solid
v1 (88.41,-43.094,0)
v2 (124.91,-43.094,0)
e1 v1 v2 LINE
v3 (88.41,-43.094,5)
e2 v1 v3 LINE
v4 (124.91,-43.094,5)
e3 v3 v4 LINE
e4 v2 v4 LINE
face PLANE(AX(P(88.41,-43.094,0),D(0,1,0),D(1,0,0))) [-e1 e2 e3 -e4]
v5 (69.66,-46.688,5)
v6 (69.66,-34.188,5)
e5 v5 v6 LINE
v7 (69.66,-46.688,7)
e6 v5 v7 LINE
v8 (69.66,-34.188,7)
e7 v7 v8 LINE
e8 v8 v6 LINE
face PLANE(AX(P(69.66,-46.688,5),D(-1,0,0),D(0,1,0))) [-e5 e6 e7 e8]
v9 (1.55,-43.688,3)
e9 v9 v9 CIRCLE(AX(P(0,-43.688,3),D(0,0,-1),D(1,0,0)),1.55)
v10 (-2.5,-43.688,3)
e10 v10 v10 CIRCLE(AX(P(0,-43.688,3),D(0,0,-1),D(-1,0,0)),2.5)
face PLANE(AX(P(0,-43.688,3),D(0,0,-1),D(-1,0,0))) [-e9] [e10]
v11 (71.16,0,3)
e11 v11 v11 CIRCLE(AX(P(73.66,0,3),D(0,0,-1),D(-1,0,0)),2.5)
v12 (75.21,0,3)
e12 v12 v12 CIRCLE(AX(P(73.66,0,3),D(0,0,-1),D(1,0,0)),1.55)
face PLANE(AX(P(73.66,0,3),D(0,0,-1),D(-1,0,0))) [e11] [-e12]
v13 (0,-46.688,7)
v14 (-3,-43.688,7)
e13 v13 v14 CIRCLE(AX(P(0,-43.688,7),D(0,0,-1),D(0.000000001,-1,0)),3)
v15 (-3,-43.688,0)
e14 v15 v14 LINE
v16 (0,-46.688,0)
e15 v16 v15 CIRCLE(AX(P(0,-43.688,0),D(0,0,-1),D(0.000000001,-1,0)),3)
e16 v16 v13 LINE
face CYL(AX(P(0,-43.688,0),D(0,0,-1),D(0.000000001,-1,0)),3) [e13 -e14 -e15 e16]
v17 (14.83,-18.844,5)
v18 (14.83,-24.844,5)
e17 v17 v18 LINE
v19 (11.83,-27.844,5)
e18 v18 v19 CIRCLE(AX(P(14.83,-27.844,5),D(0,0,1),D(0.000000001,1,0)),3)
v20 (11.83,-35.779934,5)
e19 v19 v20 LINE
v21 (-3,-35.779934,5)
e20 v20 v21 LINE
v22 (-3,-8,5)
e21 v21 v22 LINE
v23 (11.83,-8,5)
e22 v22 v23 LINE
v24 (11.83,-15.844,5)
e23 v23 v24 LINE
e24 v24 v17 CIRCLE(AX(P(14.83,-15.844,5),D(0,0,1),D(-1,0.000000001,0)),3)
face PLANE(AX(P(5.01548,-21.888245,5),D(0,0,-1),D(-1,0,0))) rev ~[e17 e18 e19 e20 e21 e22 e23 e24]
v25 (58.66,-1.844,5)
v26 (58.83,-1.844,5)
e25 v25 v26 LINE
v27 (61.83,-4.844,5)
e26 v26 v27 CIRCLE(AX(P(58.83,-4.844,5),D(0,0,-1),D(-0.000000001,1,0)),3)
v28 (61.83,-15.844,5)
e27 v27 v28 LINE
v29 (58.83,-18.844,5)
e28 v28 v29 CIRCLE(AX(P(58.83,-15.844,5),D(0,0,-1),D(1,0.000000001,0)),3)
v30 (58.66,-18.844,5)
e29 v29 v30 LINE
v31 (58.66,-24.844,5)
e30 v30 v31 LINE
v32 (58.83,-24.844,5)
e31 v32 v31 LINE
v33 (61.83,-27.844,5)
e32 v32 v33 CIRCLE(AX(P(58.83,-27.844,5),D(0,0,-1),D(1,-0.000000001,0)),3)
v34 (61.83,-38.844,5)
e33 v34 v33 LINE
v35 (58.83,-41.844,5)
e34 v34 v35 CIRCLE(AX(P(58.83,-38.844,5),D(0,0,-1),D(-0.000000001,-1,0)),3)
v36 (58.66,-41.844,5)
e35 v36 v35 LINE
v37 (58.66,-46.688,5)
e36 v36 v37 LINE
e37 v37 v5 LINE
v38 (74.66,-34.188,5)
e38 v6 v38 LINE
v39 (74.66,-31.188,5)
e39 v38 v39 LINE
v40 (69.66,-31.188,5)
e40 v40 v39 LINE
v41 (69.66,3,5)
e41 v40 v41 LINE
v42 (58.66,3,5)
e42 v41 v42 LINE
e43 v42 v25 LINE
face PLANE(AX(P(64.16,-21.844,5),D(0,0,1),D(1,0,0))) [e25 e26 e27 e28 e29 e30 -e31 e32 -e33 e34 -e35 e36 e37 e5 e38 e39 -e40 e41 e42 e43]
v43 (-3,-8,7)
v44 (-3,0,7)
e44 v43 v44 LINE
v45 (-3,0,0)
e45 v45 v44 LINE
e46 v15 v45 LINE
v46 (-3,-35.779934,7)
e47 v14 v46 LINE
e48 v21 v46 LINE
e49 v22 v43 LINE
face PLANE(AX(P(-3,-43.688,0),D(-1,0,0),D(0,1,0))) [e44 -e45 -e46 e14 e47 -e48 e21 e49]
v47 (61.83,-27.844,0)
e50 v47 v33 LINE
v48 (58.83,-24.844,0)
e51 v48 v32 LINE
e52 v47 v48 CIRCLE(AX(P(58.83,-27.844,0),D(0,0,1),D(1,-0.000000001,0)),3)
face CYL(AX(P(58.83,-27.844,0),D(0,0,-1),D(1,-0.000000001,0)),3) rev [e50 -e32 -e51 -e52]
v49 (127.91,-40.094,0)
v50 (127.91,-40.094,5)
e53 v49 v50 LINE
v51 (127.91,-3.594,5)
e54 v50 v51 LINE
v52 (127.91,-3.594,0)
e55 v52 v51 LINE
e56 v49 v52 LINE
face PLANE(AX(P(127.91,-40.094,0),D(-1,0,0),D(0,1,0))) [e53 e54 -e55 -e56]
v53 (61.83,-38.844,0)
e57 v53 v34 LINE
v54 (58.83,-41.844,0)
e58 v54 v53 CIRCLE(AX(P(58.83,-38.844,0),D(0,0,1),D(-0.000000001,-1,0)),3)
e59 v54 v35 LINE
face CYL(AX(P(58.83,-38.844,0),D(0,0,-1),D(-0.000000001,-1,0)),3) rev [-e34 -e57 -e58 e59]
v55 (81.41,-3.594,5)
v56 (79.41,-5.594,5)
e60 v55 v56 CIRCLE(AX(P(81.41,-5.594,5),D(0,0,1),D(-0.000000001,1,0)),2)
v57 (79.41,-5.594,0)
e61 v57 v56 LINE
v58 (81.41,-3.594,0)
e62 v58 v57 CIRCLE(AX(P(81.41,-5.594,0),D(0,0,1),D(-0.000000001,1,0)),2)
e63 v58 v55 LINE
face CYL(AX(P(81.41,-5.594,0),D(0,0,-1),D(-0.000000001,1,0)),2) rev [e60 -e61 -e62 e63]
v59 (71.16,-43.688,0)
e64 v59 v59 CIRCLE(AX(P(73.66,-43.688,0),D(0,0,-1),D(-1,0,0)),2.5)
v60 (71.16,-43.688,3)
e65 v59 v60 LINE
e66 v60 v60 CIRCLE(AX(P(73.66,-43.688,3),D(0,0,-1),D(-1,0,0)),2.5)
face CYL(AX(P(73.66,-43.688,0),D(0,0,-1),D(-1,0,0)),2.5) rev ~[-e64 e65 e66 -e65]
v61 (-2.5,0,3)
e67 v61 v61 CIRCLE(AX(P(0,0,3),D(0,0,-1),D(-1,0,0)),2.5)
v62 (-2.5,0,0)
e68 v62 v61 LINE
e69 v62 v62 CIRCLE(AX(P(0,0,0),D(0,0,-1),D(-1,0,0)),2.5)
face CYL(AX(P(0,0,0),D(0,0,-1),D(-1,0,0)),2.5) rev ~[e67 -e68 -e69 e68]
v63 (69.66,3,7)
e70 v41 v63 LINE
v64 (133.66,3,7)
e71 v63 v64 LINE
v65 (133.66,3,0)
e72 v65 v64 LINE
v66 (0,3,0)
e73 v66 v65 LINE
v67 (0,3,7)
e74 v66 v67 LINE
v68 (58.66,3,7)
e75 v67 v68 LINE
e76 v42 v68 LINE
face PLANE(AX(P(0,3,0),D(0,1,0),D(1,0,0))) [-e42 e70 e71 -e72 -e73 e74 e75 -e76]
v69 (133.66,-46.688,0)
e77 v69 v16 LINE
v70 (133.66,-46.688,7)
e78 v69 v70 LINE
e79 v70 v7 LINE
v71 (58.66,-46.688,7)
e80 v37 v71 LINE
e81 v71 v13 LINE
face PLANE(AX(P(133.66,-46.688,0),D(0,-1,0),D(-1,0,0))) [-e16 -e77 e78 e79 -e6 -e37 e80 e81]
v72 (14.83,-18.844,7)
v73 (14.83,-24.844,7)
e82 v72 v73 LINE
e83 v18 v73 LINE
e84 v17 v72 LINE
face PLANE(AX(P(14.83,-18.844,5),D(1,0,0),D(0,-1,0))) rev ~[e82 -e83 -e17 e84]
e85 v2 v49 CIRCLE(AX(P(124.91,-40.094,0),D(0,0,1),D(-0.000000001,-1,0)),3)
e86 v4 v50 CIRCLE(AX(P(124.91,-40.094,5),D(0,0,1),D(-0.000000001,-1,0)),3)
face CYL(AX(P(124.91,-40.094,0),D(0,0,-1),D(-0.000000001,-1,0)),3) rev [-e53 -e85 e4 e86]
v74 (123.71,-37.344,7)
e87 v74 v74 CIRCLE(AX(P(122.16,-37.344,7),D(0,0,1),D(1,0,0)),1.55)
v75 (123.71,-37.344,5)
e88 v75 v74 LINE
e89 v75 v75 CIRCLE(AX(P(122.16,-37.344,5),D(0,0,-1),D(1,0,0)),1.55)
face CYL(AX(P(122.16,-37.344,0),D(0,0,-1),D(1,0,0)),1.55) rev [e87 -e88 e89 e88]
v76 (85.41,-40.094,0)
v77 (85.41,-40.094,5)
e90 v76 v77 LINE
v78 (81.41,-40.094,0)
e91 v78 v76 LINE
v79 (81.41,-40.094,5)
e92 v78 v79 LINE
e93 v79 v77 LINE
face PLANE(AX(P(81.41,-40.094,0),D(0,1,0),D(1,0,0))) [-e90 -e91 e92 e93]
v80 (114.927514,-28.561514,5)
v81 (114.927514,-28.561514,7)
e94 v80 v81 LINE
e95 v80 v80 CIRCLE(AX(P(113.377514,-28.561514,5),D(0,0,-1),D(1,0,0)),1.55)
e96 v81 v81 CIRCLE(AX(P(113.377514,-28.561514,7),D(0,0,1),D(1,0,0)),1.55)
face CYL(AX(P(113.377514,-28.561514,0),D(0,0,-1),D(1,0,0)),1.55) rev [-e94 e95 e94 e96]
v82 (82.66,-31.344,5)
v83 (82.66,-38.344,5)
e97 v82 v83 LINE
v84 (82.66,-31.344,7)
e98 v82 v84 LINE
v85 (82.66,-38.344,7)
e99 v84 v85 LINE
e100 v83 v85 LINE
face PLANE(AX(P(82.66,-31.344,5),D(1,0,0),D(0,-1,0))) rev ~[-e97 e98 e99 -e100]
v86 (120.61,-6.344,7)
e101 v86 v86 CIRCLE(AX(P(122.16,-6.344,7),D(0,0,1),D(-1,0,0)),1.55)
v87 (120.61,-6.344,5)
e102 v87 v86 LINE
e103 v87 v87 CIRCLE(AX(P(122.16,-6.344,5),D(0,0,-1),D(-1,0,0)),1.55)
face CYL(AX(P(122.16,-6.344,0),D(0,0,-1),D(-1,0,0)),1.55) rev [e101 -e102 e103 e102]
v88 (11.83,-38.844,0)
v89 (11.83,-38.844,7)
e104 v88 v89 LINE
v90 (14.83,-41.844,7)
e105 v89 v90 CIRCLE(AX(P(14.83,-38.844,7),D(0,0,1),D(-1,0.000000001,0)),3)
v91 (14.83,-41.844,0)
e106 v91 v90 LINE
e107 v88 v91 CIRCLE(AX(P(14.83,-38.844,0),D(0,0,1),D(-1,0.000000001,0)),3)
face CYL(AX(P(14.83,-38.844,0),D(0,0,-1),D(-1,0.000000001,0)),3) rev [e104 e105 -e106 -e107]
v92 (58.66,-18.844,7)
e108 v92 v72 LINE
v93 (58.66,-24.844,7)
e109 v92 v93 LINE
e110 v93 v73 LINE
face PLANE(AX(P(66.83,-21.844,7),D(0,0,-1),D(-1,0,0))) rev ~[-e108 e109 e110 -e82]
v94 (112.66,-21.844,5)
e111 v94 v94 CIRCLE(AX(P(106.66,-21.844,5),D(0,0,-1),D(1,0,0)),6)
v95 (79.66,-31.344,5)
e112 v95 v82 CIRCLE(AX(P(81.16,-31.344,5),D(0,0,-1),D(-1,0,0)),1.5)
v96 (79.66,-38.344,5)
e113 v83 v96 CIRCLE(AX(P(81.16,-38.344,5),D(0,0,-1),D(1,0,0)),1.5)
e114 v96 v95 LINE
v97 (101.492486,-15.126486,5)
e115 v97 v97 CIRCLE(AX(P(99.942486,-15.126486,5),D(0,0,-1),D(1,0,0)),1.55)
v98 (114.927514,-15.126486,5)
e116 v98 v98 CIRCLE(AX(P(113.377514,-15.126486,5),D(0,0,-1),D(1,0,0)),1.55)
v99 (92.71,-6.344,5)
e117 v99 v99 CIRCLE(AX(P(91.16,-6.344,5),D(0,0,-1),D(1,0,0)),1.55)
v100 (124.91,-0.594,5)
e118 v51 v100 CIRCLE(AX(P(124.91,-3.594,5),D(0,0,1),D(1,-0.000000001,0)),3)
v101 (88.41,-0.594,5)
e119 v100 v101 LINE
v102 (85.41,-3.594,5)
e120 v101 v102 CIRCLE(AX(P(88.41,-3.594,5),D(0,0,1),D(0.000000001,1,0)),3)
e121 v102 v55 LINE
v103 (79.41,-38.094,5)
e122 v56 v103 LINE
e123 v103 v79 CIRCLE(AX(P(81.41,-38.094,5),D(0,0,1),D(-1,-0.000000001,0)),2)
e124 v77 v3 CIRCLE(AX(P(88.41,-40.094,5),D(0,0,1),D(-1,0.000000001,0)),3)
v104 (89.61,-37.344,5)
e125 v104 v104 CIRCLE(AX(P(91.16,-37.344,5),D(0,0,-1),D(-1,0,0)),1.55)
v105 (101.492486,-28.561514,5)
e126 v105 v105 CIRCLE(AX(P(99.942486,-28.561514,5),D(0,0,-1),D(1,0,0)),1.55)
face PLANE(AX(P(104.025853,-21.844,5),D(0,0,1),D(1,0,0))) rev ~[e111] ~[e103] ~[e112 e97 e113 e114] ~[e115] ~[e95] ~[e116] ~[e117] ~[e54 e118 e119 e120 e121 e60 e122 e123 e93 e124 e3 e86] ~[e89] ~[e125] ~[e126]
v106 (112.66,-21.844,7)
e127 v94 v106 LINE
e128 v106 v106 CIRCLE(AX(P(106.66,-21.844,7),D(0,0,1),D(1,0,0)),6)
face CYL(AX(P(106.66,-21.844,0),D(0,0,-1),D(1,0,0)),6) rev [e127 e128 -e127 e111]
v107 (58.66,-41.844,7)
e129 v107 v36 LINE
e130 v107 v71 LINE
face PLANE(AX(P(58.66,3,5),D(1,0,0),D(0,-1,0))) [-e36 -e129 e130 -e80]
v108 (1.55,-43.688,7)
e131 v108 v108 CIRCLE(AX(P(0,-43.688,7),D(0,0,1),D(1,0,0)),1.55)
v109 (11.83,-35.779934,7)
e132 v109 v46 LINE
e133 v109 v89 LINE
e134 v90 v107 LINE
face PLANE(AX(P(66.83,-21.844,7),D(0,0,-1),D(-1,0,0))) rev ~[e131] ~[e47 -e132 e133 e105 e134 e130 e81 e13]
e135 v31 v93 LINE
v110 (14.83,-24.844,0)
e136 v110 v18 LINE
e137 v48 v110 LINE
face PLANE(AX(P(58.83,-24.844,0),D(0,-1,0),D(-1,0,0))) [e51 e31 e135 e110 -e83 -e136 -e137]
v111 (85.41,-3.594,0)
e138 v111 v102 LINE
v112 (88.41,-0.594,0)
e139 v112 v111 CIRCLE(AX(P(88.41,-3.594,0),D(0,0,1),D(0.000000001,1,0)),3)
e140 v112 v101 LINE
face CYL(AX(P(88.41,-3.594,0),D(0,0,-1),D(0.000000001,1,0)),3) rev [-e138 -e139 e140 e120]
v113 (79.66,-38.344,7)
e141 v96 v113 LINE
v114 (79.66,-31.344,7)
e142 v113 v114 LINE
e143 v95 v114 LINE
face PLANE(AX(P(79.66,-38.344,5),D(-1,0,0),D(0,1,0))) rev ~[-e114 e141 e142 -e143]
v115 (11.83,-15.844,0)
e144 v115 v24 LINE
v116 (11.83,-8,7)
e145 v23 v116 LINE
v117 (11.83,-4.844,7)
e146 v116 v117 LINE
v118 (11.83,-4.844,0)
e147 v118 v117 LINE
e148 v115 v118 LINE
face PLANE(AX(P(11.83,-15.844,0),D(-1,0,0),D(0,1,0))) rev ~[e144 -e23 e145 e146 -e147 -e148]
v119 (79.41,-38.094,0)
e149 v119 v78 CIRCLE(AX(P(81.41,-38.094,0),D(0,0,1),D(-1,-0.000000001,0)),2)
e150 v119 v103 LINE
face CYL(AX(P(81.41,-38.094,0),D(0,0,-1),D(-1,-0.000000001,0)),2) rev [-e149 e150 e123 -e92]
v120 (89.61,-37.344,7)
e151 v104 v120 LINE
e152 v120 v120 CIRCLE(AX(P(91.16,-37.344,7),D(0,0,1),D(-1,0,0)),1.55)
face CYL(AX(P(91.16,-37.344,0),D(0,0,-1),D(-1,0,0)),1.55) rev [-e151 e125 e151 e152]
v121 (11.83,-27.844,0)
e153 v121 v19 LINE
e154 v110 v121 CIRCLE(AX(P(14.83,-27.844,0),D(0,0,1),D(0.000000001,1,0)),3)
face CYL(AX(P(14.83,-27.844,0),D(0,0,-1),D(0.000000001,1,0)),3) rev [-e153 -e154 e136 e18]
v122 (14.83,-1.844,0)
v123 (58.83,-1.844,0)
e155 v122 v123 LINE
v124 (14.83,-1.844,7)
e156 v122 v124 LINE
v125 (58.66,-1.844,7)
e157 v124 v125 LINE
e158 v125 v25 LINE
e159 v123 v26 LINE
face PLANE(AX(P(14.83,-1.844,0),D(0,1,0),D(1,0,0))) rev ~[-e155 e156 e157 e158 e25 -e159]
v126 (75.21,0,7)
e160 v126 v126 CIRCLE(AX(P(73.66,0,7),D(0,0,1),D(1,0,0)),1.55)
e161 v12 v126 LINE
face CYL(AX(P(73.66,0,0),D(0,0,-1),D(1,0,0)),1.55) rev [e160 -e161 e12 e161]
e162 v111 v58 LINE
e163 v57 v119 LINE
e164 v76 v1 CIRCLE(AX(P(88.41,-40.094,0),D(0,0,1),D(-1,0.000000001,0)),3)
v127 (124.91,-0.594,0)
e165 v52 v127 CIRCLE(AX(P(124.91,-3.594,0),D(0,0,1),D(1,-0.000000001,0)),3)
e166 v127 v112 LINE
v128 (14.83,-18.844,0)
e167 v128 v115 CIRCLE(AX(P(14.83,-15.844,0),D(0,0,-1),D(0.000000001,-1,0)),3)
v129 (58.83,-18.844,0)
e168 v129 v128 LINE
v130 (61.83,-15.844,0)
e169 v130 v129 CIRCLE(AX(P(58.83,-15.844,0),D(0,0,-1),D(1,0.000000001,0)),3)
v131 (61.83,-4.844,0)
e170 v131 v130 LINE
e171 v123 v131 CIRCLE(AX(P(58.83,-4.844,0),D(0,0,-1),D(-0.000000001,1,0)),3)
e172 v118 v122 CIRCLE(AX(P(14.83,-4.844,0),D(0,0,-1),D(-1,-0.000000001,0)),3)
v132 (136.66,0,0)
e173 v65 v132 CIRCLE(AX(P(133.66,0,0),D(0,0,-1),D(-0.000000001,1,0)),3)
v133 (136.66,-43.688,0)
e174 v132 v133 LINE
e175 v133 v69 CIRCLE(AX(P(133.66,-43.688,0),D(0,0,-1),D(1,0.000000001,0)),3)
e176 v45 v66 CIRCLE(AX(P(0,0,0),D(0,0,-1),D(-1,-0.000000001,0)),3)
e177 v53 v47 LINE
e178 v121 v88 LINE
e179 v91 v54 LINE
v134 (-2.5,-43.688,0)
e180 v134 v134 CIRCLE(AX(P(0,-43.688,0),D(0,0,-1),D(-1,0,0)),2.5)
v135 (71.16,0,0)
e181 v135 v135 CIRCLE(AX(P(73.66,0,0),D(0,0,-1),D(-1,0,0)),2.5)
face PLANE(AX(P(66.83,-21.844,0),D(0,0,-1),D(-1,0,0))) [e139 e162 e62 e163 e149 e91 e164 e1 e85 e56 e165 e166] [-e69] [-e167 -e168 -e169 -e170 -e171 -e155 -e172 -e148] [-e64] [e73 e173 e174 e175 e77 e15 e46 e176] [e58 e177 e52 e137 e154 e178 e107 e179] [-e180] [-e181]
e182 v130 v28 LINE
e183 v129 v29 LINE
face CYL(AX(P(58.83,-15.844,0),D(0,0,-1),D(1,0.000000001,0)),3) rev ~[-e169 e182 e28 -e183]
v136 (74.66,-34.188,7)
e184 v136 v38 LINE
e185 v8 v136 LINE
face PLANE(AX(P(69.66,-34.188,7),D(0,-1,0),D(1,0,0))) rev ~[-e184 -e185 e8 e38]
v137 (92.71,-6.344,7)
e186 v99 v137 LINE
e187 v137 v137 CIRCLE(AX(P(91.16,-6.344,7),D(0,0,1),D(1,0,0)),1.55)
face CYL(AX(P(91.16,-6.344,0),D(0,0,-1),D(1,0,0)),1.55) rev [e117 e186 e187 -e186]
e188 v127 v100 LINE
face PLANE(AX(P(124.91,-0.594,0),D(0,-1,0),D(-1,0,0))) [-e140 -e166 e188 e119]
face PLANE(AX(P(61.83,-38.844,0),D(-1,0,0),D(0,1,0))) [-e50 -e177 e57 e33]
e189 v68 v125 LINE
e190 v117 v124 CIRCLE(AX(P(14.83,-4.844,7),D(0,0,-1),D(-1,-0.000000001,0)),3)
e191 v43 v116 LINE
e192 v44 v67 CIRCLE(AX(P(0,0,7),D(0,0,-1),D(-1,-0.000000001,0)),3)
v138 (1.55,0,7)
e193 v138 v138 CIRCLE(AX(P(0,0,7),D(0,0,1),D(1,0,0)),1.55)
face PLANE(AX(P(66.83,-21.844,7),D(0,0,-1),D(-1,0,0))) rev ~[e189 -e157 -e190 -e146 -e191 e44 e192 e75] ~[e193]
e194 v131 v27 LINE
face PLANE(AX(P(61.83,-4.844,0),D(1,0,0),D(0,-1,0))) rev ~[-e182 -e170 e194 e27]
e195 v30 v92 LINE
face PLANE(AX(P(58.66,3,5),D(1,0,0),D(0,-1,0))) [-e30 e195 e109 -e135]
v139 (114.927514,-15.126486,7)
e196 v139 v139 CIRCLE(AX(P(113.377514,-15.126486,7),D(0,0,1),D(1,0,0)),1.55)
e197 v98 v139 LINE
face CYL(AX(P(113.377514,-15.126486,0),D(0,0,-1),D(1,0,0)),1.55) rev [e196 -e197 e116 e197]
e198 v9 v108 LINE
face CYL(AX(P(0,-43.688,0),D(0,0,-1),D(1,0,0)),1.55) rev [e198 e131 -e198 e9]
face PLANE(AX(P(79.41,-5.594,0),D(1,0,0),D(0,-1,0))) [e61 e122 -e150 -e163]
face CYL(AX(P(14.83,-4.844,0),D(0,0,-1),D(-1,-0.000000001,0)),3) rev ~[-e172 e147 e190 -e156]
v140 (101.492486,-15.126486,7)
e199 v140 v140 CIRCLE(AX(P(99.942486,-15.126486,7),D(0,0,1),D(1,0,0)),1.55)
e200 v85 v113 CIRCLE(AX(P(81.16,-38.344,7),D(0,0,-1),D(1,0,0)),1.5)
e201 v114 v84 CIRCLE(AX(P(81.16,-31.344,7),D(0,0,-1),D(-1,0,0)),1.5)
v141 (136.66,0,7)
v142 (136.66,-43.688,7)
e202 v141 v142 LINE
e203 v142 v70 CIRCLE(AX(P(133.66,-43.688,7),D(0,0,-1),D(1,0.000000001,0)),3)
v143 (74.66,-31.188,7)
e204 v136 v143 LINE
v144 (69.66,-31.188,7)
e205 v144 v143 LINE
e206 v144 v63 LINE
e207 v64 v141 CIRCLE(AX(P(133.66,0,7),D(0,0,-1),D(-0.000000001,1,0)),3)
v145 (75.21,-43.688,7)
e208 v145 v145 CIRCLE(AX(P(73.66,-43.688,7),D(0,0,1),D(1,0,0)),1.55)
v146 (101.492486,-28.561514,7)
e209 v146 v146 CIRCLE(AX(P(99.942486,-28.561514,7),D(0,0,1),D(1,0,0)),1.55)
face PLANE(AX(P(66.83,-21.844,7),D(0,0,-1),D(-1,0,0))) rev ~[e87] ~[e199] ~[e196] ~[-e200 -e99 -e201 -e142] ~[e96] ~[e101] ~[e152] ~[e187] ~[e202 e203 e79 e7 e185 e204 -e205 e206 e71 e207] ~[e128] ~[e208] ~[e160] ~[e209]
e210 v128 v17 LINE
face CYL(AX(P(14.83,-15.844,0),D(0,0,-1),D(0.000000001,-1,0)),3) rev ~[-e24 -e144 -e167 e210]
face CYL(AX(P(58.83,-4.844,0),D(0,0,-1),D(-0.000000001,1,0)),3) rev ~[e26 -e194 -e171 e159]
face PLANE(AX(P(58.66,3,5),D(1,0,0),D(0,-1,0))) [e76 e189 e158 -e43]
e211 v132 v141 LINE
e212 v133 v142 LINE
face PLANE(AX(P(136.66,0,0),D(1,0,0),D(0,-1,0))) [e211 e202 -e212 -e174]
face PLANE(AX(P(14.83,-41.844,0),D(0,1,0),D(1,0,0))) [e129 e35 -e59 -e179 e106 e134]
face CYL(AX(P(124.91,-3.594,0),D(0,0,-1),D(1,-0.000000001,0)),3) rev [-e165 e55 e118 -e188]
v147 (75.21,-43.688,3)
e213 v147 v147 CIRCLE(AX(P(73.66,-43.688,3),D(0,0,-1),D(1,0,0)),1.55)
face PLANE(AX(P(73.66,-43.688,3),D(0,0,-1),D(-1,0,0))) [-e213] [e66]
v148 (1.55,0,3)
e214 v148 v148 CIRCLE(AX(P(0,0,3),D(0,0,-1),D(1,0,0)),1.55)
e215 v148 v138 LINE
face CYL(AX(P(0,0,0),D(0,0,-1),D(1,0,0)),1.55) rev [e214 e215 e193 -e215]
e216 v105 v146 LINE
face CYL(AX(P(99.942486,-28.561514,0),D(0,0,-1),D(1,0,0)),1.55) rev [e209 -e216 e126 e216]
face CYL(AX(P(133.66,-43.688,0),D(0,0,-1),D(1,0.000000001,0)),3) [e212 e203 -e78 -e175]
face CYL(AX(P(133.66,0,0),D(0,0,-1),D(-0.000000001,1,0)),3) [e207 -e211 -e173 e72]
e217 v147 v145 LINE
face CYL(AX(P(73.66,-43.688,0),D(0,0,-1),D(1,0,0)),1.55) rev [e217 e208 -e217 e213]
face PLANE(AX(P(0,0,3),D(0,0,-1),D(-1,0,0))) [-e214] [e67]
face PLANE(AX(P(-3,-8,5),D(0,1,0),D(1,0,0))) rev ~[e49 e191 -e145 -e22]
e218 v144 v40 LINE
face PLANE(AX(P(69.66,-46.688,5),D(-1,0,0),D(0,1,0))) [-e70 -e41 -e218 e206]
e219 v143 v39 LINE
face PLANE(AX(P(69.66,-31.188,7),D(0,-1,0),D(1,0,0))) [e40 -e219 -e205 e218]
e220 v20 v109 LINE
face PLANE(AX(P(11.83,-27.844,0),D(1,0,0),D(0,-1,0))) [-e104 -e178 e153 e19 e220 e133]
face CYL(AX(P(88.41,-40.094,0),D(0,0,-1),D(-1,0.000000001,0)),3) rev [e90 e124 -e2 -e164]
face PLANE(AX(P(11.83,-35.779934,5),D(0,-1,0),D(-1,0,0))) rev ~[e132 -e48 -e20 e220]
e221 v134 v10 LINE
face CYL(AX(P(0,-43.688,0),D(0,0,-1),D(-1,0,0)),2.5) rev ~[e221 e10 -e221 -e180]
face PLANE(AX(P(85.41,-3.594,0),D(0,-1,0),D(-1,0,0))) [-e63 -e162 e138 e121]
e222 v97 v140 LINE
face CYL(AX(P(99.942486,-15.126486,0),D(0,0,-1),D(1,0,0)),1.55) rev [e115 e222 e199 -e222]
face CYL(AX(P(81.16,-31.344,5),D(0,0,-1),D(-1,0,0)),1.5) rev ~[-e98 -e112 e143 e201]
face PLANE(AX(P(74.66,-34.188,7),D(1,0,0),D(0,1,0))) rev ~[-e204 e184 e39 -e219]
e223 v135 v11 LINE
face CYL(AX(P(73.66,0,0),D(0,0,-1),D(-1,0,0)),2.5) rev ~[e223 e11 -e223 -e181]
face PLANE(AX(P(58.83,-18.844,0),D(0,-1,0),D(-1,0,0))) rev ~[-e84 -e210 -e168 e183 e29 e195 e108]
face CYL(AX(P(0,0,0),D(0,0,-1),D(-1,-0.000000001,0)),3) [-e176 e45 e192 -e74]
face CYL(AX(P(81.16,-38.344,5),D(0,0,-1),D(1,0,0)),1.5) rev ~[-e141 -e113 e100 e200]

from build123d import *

# Parameters (mm, degrees)
SKETCH_1_R          = 1.55
SKETCH_1_R_2        = 6
EXTRUDE_1_DEPTH     = 7
CUT_EXTRUDE_START   = -2
CUT_EXTRUDE_3_DEPTH = 2
SKETCH_4_R          = 2.5
CUT_EXTRUDE_4_DEPTH = 3
CUT_EXTRUDE_5_DEPTH = 5
CUT_EXTRUDE_6_DEPTH = 2
SKETCH_7_W          = 5
SKETCH_7_H          = 3
CUT_EXTRUDE_7_DEPTH = 2


with BuildPart() as part:
    # 草图1 → 凸台-拉伸1 (new body)
    with BuildSketch(Plane.XY):
        with BuildLine():
            Line((0, 3), (73.66, 3))
            Line((73.66, 3), (133.66, 3))
            ThreePointArc((133.66, 3), (135.781320344, 2.121320344), (136.66, 0))
            Line((136.66, 0), (136.66, -21.844))
            Line((136.66, -21.844), (136.66, -43.688))
            ThreePointArc((136.66, -43.688), (135.781320344, -45.809320344), (133.66, -46.688))
            Line((133.66, -46.688), (73.66, -46.688))
            Line((73.66, -46.688), (0, -46.688))
            ThreePointArc((0, -46.688), (-2.121320344, -45.809320344), (-3, -43.688))
            Line((-3, -43.688), (-3, 0))
            ThreePointArc((-3, 0), (-2.121320344, 2.121320344), (0, 3))
        make_face()
        Circle(SKETCH_1_R, mode=Mode.SUBTRACT)
        with Locations((73.66, 0)):
            Circle(SKETCH_1_R, mode=Mode.SUBTRACT)
        with Locations((0, -43.688)):
            Circle(SKETCH_1_R, mode=Mode.SUBTRACT)
        with Locations((73.66, -43.688)):
            Circle(SKETCH_1_R, mode=Mode.SUBTRACT)
        with Locations((106.66, -21.844)):
            Circle(SKETCH_1_R_2, mode=Mode.SUBTRACT)
        with Locations((91.16, -6.344)):
            Circle(SKETCH_1_R, mode=Mode.SUBTRACT)
        with Locations(Location((91.16, -37.344, 0), (0, 0, 180))):
            Circle(SKETCH_1_R, mode=Mode.SUBTRACT)
        with Locations((122.16, -37.344)):
            Circle(SKETCH_1_R, mode=Mode.SUBTRACT)
        with Locations(Location((122.16, -6.344, 0), (0, 0, 180))):
            Circle(SKETCH_1_R, mode=Mode.SUBTRACT)
        with Locations((99.942485579, -15.126485579)):
            Circle(SKETCH_1_R, mode=Mode.SUBTRACT)
        with Locations((113.377514421, -15.126485579)):
            Circle(SKETCH_1_R, mode=Mode.SUBTRACT)
        with Locations((113.377514421, -28.561514421)):
            Circle(SKETCH_1_R, mode=Mode.SUBTRACT)
        with Locations((99.942485579, -28.561514421)):
            Circle(SKETCH_1_R, mode=Mode.SUBTRACT)
        with BuildLine():
            Line((11.83, -15.844), (11.83, -4.844))
            ThreePointArc((11.83, -4.844), (12.708679656, -2.722679656), (14.83, -1.844))
            Line((14.83, -1.844), (36.83, -1.844))
            Line((36.83, -1.844), (58.83, -1.844))
            ThreePointArc((58.83, -1.844), (60.951320344, -2.722679656), (61.83, -4.844))
            Line((61.83, -4.844), (61.83, -15.844))
            ThreePointArc((61.83, -15.844), (60.951320344, -17.965320344), (58.83, -18.844))
            Line((58.83, -18.844), (36.83, -18.844))
            Line((36.83, -18.844), (14.83, -18.844))
            ThreePointArc((14.83, -18.844), (12.708679656, -17.965320344), (11.83, -15.844))
        make_face(mode=Mode.SUBTRACT)
        with BuildLine():
            Line((36.83, -41.844), (58.83, -41.844))
            ThreePointArc((58.83, -41.844), (60.951320344, -40.965320344), (61.83, -38.844))
            Line((61.83, -38.844), (61.83, -27.844))
            ThreePointArc((61.83, -27.844), (60.951320344, -25.722679656), (58.83, -24.844))
            Line((58.83, -24.844), (36.83, -24.844))
            Line((36.83, -24.844), (14.83, -24.844))
            ThreePointArc((14.83, -24.844), (12.708679656, -25.722679656), (11.83, -27.844))
            Line((11.83, -27.844), (11.83, -38.844))
            ThreePointArc((11.83, -38.844), (12.708679656, -40.965320344), (14.83, -41.844))
            Line((14.83, -41.844), (36.83, -41.844))
        make_face(mode=Mode.SUBTRACT)
    extrude(amount=EXTRUDE_1_DEPTH)

    # 草图2 → 切除-拉伸3 (cut)
    with BuildSketch(Plane.XY.offset(7).offset(CUT_EXTRUDE_START)):
        with BuildLine():
            Line((1.933137513, -8), (11.83, -8))
            Line((11.83, -8), (11.83, -15.844))
            ThreePointArc((11.83, -15.844), (12.708679656, -17.965320344), (14.83, -18.844))
            Line((14.83, -18.844), (14.83, -23))
            Line((14.83, -23), (14.83, -24.844))
            ThreePointArc((14.83, -24.844), (12.708679656, -25.722679656), (11.83, -27.844))
            Line((11.83, -27.844), (11.83, -35.779934467))
            Line((11.83, -35.779934467), (1.933137513, -35.779934467))
            Line((1.933137513, -35.779934467), (-3, -35.779934467))
            Line((-3, -35.779934467), (-3, -23))
            Line((-3, -23), (-3, -8))
            Line((-3, -8), (1.933137513, -8))
        make_face()
        Polygon((69.66, -21.844), (69.66, 3), (67.66, 3), (58.66, 3), (58.66, -21.889967233), (58.66, -46.688), (67.66, -46.688), (69.66, -46.688), align=None)
    extrude(amount=CUT_EXTRUDE_3_DEPTH, mode=Mode.SUBTRACT)

    # 草图4 → 切除-拉伸4 (cut)
    with BuildSketch(Plane(origin=(0, 0, 0), x_dir=(-1, 0, 0), z_dir=(0, 0, -1))):
        with Locations((-73.66, 0)):
            Circle(SKETCH_4_R)
        with Locations((-73.66, -43.688)):
            Circle(SKETCH_4_R)
        Circle(SKETCH_4_R)
        with Locations((0, -43.688)):
            Circle(SKETCH_4_R)
    extrude(amount=-CUT_EXTRUDE_4_DEPTH, mode=Mode.SUBTRACT)

    # 草图5 → 切除-拉伸5 (cut)
    with BuildSketch(Plane(origin=(0, 0, 0), x_dir=(-1, 0, 0), z_dir=(0, 0, -1))):
        with BuildLine():
            Line((-85.41, -3.594), (-81.41, -3.594))
            ThreePointArc((-81.41, -3.594), (-79.995786438, -4.179786438), (-79.41, -5.594))
            Line((-79.41, -5.594), (-79.41, -37.094))
            Line((-79.41, -37.094), (-79.41, -38.094))
            ThreePointArc((-79.41, -38.094), (-79.995786438, -39.508213562), (-81.41, -40.094))
            Line((-81.41, -40.094), (-85.41, -40.094))
            ThreePointArc((-85.41, -40.094), (-86.288679656, -42.215320344), (-88.41, -43.094))
            Line((-88.41, -43.094), (-124.91, -43.094))
            ThreePointArc((-124.91, -43.094), (-127.031320344, -42.215320344), (-127.91, -40.094))
            Line((-127.91, -40.094), (-127.91, -3.594))
            ThreePointArc((-127.91, -3.594), (-127.031320344, -1.472679656), (-124.91, -0.594))
            Line((-124.91, -0.594), (-88.41, -0.594))
            ThreePointArc((-88.41, -0.594), (-86.288679656, -1.472679656), (-85.41, -3.594))
        make_face()
    extrude(amount=-CUT_EXTRUDE_5_DEPTH, mode=Mode.SUBTRACT)

    # 草图6 → 切除-拉伸6 (cut)
    with BuildSketch(Plane(origin=(0, 0, 5), x_dir=(-1, 0, 0), z_dir=(0, 0, -1))):
        with BuildLine():
            Line((-82.66, -31.344), (-82.66, -38.344))
            ThreePointArc((-82.66, -38.344), (-81.16, -39.844), (-79.66, -38.344))
            Line((-79.66, -38.344), (-79.66, -31.344))
            ThreePointArc((-79.66, -31.344), (-81.16, -29.844), (-82.66, -31.344))
        make_face()
    extrude(amount=-CUT_EXTRUDE_6_DEPTH, mode=Mode.SUBTRACT)

    # 草图7 → 切除-拉伸7 (cut)
    with BuildSketch(Plane.XY.offset(7)):
        with Locations((72.16, -32.688)):
            Rectangle(SKETCH_7_W, SKETCH_7_H)
    extrude(amount=-CUT_EXTRUDE_7_DEPTH, mode=Mode.SUBTRACT)


solid = part.part
